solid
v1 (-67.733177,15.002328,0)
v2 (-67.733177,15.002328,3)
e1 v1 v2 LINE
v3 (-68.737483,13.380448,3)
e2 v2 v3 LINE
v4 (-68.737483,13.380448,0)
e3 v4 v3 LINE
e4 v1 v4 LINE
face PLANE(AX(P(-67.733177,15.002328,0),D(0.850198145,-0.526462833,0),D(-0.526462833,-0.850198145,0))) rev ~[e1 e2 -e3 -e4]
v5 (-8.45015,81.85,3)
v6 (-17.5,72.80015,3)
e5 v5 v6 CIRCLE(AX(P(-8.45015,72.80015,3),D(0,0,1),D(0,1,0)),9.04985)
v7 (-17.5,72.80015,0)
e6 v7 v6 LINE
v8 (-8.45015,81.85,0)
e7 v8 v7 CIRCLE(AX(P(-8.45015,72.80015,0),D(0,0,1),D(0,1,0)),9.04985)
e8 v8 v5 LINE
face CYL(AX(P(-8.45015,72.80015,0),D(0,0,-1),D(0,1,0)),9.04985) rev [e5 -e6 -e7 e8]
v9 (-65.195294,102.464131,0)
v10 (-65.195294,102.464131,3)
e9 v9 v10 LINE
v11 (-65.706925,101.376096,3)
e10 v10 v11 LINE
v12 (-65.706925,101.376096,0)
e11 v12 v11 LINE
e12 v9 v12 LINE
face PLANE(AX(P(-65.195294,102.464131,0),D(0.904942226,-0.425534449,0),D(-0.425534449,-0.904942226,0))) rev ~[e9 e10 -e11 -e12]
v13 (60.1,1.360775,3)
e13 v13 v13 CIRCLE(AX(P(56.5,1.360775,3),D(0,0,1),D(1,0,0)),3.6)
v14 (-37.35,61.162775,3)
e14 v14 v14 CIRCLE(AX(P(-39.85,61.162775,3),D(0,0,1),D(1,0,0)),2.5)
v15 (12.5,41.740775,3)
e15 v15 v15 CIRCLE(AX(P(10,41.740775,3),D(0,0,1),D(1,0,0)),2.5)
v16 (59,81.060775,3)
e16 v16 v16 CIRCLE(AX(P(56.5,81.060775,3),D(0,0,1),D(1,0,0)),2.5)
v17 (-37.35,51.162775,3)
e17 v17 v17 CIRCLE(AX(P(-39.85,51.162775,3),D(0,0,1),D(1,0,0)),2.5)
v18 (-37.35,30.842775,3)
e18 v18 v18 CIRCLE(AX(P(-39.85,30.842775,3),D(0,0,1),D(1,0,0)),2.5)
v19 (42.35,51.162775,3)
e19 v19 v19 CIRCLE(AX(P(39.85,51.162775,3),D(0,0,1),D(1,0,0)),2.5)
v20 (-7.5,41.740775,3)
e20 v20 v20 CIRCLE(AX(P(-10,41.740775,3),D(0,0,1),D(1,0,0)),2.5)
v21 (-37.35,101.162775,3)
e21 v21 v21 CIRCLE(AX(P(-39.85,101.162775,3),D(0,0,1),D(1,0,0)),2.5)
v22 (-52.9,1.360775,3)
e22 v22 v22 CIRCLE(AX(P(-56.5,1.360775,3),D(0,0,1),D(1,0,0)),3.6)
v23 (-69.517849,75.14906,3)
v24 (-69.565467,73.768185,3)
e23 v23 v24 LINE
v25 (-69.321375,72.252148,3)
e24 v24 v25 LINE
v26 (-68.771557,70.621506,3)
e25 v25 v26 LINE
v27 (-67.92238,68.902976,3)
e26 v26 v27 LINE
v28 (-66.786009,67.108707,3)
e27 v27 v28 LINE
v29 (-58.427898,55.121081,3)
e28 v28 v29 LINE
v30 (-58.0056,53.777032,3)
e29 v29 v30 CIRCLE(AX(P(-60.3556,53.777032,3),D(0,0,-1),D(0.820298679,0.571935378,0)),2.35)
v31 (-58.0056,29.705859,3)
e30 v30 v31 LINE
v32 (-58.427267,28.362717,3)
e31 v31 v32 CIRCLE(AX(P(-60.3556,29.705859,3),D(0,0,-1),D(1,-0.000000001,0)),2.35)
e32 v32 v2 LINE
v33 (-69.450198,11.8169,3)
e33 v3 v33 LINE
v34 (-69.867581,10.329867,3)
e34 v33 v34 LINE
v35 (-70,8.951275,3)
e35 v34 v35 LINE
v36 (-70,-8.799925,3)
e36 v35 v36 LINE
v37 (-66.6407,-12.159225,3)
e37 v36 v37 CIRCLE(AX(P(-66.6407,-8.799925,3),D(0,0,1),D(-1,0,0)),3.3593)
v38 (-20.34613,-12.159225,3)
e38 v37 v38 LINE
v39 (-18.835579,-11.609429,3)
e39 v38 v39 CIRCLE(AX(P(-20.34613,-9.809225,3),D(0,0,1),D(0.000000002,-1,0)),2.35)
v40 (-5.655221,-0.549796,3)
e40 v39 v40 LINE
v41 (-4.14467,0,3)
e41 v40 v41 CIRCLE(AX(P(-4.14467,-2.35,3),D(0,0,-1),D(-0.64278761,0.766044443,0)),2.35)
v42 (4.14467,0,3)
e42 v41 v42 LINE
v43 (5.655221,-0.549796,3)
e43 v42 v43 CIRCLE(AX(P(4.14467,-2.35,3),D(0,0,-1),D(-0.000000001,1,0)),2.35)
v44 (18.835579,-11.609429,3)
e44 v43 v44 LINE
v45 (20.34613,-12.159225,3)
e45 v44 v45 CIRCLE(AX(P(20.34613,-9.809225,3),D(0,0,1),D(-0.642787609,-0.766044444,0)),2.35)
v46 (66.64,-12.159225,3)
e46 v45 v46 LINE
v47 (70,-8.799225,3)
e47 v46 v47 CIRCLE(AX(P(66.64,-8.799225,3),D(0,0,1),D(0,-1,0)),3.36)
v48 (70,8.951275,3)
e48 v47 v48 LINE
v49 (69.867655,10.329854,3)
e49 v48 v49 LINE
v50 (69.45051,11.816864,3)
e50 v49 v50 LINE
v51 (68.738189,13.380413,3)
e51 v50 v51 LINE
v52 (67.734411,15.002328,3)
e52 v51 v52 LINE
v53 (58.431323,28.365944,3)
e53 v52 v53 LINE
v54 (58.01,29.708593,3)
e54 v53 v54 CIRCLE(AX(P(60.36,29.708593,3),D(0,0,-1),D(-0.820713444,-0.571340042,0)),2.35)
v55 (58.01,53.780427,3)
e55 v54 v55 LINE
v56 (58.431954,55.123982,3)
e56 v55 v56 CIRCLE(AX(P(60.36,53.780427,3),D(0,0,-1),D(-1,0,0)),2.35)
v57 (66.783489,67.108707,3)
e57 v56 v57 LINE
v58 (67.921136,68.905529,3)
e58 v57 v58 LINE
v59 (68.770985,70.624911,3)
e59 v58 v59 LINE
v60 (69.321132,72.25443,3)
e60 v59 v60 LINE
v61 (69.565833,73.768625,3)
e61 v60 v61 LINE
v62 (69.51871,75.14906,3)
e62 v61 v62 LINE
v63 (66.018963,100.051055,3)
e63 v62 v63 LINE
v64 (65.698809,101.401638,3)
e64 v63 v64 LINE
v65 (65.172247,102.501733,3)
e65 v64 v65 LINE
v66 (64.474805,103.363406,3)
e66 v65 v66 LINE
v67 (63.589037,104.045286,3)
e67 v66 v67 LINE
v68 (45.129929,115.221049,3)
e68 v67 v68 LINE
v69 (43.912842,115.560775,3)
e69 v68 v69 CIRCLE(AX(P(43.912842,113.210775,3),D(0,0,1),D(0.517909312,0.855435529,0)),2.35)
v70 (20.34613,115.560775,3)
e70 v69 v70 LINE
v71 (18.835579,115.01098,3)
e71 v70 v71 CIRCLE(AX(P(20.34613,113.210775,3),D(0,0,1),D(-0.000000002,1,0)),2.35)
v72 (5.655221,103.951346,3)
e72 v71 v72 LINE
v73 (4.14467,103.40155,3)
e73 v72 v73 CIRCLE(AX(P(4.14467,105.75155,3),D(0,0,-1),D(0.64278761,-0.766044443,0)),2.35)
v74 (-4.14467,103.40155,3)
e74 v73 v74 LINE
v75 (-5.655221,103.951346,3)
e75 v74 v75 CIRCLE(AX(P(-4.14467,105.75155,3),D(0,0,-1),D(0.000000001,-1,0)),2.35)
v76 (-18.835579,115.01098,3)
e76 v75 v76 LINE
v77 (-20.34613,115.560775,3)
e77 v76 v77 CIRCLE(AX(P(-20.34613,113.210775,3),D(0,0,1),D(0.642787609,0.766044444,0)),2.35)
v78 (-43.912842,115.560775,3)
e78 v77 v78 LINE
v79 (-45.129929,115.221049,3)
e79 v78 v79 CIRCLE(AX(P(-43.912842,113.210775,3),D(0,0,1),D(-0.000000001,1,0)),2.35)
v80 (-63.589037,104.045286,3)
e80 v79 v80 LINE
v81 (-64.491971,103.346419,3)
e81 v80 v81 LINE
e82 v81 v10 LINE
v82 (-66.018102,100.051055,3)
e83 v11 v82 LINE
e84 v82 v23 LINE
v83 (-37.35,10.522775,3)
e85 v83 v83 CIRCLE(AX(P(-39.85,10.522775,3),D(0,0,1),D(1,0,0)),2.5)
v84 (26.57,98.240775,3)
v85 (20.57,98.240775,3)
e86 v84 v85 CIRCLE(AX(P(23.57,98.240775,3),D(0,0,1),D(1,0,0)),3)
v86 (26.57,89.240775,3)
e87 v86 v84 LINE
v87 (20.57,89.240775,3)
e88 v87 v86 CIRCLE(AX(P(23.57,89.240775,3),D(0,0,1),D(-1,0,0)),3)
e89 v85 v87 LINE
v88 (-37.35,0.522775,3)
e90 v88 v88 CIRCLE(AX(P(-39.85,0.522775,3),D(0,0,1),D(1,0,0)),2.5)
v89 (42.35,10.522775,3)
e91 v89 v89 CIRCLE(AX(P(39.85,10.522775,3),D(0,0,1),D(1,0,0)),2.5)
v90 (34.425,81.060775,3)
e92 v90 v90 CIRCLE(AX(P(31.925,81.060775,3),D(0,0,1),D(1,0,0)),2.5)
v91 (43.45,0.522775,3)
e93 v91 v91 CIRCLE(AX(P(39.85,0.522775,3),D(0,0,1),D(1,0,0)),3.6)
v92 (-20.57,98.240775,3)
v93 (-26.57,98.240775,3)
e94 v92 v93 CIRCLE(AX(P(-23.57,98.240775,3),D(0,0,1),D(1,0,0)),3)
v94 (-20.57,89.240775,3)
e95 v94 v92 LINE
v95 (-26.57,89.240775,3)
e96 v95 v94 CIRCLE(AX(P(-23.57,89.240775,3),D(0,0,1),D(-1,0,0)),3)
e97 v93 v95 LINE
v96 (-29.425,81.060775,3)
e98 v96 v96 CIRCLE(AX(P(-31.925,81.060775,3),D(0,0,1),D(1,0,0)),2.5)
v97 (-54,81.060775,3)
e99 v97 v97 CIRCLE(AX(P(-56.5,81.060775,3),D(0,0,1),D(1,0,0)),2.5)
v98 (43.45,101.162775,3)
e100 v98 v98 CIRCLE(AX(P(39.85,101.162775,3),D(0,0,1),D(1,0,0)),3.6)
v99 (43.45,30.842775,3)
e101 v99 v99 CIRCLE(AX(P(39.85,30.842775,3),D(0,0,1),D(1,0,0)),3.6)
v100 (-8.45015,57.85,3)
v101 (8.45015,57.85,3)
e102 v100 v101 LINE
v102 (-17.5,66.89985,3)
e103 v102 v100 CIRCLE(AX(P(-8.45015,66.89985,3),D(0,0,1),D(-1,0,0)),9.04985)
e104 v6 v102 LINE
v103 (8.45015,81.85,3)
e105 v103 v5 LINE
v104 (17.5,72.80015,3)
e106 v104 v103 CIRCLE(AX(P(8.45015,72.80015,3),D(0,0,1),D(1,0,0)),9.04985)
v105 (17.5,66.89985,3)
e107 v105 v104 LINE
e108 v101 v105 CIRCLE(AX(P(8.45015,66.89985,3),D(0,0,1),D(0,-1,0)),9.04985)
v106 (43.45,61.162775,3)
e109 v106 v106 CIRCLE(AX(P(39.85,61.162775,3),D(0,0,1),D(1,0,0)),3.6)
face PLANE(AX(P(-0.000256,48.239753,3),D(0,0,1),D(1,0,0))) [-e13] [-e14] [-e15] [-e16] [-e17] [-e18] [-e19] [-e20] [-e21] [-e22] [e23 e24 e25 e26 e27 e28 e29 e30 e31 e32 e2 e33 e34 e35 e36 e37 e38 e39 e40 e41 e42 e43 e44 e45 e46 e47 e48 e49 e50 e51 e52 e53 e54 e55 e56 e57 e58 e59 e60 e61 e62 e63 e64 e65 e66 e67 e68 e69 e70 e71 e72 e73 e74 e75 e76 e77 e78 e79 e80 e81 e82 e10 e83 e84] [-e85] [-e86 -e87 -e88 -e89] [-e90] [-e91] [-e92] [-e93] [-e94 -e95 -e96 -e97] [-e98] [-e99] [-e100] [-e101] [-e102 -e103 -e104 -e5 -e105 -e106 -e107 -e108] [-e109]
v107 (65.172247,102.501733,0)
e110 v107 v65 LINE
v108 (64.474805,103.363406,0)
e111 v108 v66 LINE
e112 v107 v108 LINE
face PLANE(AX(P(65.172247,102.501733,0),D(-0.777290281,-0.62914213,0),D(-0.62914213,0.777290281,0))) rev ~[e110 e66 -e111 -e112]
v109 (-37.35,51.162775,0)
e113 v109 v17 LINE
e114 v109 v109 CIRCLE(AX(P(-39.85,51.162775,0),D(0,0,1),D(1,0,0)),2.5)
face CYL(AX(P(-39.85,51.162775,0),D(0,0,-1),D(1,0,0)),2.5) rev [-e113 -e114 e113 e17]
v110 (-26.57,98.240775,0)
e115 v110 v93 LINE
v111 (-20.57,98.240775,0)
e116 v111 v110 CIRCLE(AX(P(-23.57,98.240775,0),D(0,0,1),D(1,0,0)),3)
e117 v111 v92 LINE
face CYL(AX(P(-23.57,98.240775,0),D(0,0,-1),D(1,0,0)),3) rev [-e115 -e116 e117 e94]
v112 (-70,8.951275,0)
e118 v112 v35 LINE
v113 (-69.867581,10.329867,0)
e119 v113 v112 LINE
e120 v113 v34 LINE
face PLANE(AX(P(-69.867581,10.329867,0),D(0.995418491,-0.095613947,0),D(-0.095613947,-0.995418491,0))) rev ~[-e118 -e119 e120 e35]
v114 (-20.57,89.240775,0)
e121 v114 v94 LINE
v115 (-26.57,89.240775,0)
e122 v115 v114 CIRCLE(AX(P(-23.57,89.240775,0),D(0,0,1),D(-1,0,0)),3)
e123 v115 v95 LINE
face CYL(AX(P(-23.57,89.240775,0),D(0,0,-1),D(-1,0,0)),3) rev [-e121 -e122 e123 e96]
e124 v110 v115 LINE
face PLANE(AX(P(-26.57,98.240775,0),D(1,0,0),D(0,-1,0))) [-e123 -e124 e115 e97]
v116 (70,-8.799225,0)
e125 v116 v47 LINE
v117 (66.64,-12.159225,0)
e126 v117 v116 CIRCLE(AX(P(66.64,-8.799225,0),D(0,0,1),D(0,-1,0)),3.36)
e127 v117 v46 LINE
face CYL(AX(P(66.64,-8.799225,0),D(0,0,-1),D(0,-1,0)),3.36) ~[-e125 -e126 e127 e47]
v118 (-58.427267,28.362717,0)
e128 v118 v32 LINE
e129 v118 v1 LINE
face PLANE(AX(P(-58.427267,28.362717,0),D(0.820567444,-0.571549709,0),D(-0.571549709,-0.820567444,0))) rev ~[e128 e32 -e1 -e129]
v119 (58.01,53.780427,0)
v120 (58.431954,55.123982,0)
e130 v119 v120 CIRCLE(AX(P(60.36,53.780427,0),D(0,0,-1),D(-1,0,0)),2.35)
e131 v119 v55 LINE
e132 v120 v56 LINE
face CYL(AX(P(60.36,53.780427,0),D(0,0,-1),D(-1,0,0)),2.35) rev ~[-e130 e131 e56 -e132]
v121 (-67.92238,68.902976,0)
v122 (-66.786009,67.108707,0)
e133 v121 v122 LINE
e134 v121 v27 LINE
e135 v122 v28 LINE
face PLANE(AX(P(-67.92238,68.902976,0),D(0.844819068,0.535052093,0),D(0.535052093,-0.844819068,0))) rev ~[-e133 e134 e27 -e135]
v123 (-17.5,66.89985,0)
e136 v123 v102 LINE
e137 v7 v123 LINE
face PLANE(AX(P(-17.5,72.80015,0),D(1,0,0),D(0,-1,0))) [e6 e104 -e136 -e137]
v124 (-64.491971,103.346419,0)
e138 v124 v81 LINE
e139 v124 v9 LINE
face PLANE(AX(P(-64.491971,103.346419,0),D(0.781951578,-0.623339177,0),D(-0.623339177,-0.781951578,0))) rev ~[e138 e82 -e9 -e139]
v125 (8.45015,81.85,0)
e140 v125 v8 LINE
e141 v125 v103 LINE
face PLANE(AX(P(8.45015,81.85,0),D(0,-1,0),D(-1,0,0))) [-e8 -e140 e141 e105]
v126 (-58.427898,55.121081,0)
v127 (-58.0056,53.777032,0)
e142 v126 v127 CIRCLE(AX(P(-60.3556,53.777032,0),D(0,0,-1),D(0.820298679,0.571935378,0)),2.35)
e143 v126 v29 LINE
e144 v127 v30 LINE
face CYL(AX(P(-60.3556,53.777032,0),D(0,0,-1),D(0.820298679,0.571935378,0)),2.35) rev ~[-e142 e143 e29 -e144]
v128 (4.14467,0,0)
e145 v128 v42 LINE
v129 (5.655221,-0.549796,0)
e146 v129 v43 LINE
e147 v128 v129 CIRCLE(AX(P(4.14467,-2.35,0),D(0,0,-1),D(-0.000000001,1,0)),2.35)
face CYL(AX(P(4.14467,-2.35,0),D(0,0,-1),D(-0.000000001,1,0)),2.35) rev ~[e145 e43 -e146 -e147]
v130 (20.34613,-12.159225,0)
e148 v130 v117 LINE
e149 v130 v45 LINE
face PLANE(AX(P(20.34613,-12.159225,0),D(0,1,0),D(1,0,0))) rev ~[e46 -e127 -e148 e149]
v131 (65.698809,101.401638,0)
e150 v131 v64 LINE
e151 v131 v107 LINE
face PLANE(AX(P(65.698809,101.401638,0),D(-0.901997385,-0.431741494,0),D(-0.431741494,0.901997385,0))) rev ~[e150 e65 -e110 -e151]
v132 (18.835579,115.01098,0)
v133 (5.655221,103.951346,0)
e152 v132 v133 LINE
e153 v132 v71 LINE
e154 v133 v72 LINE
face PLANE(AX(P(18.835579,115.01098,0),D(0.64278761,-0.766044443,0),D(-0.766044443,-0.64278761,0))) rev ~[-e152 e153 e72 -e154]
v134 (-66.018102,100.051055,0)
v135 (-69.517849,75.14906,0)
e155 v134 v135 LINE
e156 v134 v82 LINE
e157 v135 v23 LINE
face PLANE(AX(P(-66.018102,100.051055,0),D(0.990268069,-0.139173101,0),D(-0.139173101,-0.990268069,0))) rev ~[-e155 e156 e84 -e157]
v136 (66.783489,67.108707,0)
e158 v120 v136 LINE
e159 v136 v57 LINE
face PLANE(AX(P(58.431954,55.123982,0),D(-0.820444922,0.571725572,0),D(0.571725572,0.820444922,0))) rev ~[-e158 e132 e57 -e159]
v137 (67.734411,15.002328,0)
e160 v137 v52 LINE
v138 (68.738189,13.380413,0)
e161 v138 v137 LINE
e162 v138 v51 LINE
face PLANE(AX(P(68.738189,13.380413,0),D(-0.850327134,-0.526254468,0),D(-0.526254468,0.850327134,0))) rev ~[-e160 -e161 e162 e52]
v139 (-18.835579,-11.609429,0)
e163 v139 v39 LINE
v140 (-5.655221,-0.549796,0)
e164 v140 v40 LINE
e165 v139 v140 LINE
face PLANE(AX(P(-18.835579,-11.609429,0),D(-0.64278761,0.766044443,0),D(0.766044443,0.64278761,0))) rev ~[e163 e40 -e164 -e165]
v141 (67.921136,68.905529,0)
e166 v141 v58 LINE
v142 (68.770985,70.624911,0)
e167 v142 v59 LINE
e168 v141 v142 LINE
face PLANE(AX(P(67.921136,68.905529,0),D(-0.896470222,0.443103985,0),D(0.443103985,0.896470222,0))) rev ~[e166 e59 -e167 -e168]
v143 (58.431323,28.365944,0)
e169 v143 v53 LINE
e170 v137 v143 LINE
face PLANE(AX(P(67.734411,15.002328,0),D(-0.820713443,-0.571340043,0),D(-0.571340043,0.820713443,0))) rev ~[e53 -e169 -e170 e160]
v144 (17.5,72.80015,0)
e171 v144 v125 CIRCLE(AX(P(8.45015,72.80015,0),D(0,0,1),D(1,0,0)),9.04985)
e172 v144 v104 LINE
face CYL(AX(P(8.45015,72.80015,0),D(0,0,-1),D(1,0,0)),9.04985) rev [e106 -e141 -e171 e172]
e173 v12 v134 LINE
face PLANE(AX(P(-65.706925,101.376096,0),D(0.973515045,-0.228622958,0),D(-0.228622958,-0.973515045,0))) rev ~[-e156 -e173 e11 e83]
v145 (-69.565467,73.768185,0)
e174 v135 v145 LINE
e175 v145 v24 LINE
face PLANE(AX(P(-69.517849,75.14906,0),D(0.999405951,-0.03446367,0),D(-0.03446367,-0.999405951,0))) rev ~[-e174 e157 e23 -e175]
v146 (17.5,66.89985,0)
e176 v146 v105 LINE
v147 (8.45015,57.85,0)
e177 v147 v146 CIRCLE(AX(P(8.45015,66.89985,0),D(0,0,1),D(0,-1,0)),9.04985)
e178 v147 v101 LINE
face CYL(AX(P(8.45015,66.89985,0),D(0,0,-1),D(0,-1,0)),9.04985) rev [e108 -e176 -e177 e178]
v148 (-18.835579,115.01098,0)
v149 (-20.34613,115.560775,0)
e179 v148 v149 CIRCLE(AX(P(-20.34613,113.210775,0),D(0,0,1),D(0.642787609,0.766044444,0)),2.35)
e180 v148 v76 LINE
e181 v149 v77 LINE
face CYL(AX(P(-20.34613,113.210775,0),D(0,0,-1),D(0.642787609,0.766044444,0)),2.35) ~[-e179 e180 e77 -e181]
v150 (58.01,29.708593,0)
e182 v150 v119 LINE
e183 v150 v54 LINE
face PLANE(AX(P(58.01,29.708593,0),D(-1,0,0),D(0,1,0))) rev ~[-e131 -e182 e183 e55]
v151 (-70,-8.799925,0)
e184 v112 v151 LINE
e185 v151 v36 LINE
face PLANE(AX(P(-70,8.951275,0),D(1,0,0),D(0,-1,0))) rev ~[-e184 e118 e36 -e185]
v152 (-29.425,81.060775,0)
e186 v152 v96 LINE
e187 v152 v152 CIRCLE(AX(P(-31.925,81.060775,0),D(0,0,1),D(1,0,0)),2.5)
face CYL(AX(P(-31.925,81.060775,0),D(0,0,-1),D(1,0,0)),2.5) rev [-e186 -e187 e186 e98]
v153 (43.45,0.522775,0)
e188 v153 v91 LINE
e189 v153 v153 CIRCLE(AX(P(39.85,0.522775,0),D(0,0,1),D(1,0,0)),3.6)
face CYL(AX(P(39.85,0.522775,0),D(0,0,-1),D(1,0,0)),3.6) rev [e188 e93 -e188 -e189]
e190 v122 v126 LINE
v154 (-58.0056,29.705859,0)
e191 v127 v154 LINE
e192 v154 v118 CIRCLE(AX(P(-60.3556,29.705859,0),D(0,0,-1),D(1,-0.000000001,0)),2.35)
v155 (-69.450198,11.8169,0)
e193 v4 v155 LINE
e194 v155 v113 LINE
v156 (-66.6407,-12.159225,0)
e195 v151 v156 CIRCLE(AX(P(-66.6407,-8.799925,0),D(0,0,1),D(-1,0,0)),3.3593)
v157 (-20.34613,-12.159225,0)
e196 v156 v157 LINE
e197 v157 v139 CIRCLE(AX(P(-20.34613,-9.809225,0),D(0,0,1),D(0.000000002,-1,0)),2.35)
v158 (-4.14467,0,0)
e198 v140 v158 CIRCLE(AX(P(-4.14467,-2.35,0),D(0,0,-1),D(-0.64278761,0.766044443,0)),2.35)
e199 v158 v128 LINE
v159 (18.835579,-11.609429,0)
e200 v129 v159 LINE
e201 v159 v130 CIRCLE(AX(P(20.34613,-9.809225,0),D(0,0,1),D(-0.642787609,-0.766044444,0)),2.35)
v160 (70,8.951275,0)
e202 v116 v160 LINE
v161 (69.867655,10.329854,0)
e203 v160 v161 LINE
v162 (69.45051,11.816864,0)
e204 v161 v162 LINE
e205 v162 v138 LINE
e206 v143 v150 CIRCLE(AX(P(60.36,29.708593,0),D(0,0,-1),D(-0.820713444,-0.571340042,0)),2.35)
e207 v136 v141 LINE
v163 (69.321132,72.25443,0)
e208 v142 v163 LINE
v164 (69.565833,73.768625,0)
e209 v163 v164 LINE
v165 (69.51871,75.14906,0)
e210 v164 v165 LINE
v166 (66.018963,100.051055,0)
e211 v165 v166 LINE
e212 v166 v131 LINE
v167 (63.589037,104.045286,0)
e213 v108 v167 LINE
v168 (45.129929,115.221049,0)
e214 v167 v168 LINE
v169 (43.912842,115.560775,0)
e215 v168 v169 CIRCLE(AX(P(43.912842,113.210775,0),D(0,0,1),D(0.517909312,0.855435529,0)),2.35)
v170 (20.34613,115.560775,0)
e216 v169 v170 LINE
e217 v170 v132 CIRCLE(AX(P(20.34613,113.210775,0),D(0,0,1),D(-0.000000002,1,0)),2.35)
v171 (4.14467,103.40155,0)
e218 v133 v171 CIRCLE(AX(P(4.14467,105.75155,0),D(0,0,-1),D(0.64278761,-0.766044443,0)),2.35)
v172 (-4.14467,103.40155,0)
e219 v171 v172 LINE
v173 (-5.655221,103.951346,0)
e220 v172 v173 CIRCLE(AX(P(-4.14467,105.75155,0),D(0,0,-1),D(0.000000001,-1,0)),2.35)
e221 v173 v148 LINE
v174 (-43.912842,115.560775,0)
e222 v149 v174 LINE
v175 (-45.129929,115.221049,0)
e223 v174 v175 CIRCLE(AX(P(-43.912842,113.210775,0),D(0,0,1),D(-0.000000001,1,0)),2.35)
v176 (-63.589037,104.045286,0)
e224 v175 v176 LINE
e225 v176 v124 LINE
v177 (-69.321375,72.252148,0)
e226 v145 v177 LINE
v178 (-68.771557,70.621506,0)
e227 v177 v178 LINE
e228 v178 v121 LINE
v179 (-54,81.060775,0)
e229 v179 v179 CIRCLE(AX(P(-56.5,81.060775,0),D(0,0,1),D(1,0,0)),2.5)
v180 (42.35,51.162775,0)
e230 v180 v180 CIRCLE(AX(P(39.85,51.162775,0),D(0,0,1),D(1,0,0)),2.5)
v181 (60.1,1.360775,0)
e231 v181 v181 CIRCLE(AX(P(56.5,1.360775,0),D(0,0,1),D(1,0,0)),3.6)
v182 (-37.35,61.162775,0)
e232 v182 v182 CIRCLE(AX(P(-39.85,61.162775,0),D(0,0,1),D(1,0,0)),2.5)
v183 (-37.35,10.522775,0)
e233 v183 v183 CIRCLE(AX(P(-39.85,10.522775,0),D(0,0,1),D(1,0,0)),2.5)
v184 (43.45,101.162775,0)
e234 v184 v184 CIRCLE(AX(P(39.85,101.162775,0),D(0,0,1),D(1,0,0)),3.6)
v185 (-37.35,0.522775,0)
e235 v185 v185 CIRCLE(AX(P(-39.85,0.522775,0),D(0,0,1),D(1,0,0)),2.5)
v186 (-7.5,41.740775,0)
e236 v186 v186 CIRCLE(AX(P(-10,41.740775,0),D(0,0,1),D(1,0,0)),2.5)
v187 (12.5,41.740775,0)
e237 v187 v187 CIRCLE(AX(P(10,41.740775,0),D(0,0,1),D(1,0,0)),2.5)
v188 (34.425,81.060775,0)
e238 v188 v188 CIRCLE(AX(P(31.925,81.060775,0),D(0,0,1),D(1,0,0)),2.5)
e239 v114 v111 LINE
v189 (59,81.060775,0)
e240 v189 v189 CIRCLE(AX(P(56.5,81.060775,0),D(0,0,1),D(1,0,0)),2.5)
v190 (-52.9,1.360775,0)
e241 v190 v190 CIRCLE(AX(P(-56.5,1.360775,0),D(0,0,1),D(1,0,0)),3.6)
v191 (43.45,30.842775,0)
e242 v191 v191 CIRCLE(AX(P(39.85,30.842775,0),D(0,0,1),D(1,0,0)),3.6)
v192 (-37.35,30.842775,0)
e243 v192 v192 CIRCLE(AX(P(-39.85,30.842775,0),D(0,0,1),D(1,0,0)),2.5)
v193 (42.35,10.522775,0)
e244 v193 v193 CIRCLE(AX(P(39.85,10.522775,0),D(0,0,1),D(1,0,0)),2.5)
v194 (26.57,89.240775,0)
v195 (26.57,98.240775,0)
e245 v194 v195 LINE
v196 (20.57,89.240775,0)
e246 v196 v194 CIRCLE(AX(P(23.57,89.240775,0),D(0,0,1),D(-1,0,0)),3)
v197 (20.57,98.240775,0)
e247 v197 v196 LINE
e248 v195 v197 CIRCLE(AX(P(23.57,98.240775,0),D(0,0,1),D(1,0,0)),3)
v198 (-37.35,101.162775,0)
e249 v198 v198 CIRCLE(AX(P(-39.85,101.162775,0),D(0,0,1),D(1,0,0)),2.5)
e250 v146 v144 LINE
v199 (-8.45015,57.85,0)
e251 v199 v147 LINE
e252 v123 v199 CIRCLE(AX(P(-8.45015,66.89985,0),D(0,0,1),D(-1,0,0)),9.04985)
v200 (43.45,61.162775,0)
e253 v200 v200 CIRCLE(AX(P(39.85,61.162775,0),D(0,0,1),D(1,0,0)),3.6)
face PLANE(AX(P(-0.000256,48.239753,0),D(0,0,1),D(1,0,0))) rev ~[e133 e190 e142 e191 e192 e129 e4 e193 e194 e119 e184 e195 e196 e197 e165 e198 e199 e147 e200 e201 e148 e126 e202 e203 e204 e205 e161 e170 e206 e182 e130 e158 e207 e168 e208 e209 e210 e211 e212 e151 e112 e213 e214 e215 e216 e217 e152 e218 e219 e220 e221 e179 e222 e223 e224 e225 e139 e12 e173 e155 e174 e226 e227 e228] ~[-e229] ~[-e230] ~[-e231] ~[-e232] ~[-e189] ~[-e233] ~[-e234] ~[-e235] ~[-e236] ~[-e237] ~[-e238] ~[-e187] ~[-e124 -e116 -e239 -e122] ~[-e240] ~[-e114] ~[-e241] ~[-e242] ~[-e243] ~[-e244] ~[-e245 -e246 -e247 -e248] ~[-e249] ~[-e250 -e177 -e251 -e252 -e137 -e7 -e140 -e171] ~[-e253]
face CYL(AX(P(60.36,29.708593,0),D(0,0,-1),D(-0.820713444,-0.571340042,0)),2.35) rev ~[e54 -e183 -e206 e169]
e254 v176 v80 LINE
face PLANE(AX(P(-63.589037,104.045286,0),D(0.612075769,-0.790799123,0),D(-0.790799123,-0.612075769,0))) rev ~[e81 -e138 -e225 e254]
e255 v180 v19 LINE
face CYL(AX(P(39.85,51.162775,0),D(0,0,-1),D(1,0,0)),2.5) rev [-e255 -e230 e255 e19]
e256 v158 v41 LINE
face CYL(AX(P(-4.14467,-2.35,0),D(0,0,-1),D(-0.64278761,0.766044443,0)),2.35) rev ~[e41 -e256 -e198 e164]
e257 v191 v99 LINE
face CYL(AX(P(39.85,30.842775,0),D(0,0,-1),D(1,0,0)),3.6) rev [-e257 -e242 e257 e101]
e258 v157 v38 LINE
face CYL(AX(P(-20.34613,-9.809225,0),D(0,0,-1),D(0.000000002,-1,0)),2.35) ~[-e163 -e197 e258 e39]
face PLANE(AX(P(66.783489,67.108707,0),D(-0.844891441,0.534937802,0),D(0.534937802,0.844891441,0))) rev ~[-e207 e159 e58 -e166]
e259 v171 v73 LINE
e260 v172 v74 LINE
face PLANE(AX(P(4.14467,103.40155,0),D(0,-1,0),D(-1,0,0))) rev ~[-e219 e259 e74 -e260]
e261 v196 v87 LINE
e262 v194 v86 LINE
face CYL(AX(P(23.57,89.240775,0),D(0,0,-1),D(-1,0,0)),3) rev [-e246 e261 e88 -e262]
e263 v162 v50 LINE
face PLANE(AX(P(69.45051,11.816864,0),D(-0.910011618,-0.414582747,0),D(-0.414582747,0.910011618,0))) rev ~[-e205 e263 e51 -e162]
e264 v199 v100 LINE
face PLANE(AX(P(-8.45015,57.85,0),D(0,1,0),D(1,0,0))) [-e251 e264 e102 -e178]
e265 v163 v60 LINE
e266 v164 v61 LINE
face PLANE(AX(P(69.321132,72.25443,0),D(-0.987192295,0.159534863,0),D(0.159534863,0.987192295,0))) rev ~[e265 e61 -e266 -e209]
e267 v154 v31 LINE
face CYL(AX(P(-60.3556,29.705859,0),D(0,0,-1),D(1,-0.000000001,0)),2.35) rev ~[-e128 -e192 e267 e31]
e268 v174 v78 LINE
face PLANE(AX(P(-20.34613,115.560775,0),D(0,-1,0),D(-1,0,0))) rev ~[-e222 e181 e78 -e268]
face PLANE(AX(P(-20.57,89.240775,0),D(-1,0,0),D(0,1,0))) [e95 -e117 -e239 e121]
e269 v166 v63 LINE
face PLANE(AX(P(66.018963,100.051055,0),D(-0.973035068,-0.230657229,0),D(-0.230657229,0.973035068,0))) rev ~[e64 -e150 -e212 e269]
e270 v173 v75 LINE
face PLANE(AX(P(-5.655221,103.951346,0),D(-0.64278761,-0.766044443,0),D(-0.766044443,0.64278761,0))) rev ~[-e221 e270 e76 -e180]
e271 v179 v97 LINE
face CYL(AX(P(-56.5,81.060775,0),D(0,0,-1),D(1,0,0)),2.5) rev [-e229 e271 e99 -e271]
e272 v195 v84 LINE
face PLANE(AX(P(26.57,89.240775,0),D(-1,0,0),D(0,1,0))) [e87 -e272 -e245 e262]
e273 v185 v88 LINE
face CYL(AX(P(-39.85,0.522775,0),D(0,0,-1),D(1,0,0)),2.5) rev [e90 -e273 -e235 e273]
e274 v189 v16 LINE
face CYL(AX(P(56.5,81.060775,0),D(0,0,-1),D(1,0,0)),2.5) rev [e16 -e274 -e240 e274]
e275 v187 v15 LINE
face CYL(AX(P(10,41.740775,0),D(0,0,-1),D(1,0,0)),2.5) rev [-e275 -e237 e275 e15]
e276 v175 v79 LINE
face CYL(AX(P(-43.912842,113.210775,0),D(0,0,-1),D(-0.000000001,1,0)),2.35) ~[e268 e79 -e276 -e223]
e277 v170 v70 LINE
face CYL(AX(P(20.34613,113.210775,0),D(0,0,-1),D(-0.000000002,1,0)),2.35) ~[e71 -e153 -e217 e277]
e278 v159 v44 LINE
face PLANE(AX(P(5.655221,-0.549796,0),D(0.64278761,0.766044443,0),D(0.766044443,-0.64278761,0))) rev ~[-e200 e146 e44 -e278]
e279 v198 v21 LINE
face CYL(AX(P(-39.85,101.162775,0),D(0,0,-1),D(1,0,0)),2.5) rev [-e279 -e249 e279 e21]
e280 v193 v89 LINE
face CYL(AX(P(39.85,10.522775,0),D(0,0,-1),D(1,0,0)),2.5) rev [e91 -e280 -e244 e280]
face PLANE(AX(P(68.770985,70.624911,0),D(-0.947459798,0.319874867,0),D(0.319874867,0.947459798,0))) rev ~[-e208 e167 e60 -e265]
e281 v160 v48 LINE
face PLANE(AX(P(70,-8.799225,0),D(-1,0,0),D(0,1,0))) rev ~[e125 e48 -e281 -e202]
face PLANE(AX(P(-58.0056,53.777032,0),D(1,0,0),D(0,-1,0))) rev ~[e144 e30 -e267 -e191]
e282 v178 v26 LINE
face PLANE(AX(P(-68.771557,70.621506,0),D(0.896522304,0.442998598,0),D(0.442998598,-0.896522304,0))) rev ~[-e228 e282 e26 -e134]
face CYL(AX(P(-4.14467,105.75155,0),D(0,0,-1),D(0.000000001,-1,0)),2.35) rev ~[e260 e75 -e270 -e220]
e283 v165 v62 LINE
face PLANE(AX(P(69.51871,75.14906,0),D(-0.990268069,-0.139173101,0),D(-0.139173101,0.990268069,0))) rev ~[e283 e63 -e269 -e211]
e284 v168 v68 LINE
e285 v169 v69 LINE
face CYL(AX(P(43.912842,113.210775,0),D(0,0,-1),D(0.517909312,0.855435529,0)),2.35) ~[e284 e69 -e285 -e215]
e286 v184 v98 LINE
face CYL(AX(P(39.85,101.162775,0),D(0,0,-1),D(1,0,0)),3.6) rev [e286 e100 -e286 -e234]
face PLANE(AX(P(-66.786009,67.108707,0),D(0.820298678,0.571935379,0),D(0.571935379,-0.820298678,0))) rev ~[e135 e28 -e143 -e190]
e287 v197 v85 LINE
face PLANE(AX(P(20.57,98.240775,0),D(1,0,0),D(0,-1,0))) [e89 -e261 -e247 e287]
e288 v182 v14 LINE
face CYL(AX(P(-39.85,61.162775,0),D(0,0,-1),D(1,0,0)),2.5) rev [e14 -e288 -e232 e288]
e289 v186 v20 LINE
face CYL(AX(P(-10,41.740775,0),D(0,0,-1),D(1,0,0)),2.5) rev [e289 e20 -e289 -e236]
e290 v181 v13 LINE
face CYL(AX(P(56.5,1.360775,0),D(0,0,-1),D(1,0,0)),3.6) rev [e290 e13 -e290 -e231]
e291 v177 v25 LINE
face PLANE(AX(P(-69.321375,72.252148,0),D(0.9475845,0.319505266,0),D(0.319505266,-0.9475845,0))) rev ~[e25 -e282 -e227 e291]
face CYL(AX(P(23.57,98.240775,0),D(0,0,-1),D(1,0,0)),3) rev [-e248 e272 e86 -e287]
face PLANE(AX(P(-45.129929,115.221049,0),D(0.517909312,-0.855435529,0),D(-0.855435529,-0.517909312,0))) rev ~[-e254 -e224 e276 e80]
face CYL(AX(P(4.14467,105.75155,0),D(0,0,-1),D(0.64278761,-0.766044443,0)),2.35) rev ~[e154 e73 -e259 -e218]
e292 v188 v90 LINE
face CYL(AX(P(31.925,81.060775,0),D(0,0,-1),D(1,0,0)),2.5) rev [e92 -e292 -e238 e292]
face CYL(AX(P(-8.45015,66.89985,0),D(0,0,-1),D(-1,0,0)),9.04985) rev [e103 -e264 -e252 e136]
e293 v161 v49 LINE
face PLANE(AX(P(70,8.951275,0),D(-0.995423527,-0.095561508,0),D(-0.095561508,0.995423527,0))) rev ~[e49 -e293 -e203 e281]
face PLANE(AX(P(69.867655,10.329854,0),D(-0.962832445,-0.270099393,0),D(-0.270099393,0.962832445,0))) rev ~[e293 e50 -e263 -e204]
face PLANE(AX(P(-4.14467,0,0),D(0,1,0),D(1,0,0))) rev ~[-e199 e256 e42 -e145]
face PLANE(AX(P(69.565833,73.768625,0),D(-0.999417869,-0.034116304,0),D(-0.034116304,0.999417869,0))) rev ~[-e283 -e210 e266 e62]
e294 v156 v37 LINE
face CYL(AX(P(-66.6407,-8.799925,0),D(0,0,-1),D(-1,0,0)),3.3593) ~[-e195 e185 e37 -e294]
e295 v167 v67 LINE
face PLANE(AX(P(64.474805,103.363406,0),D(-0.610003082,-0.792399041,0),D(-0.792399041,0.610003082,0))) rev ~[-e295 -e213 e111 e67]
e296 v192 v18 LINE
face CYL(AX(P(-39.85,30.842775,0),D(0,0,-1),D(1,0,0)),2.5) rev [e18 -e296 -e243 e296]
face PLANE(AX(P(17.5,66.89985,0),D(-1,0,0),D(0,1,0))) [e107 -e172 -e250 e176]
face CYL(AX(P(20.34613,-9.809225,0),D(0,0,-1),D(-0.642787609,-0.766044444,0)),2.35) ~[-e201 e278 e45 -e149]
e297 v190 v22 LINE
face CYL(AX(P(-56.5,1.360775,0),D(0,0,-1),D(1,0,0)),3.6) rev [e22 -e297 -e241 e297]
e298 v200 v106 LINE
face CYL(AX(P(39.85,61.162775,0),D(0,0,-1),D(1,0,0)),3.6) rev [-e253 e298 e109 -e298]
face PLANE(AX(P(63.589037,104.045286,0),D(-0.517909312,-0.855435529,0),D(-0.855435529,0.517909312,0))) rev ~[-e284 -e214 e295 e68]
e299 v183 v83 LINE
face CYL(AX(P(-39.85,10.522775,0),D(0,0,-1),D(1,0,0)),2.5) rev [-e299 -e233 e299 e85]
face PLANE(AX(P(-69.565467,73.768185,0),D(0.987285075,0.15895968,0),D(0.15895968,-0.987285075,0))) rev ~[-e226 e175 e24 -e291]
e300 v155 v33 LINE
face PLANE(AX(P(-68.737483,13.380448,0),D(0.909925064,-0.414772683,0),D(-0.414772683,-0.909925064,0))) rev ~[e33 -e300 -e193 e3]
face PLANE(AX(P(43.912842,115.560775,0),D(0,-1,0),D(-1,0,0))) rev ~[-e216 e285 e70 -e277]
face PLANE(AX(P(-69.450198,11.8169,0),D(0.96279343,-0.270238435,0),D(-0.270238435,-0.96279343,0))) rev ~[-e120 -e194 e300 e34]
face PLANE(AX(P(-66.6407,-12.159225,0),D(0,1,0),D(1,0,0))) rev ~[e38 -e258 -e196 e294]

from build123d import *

# Parameters (mm, degrees)
MODEL_R             = 3.6
MODEL_R_2           = 2.5
BOSS_EXTRUDE1_DEPTH = 3


with BuildPart() as part:
    # Model → Boss-Extrude1 (new body)
    with BuildSketch(Plane.XY):
        with BuildLine():
            Line((-63.589037408, 104.045286478), (-64.491971364, 103.346418738))
            Line((-64.491971364, 103.346418738), (-65.195294282, 102.464131076))
            Line((-65.195294282, 102.464131076), (-65.706925279, 101.376095796))
            Line((-65.706925279, 101.376095796), (-66.01810151, 100.051055017))
            Line((-66.01810151, 100.051055017), (-69.517848709, 75.149059762))
            Line((-69.517848709, 75.149059762), (-69.565467008, 73.768185024))
            Line((-69.565467008, 73.768185024), (-69.321374593, 72.25214776))
            Line((-69.321374593, 72.25214776), (-68.771556944, 70.621505836))
            Line((-68.771556944, 70.621505836), (-67.922379623, 68.902975774))
            Line((-67.922379623, 68.902975774), (-66.786009136, 67.108706641))
            Line((-66.786009136, 67.108706641), (-58.427898105, 55.121080623))
            ThreePointArc((-58.427898105, 55.121080623), (-58.113658938, 54.481447327), (-58.0056, 53.777032482))
            Line((-58.0056, 53.777032482), (-58.0056, 29.705859287))
            ThreePointArc((-58.0056, 29.705859287), (-58.113493434, 29.001971409), (-58.427266507, 28.362717471))
            Line((-58.427266507, 28.362717471), (-67.733176699, 15.002327604))
            Line((-67.733176699, 15.002327604), (-68.737483208, 13.38044762))
            Line((-68.737483208, 13.38044762), (-69.450197862, 11.816899792))
            Line((-69.450197862, 11.816899792), (-69.867580727, 10.329866757))
            Line((-69.867580727, 10.329866757), (-70, 8.951275064))
            Line((-70, 8.951275064), (-70, -8.799924936))
            ThreePointArc((-70, -8.799924936), (-69.01608381, -11.175308746), (-66.6407, -12.159224936))
            Line((-66.6407, -12.159224936), (-20.346130051, -12.159224936))
            ThreePointArc((-20.346130051, -12.159224936), (-19.542382714, -12.017502594), (-18.835579168, -11.609429377))
            Line((-18.835579168, -11.609429377), (-5.655220832, -0.549795559))
            ThreePointArc((-5.655220832, -0.549795559), (-4.948417286, -0.141722341), (-4.144669949, 0))
            Line((-4.144669949, 0), (4.144669949, 0))
            ThreePointArc((4.144669949, 0), (4.948417286, -0.141722341), (5.655220832, -0.549795559))
            Line((5.655220832, -0.549795559), (18.835579168, -11.609429377))
            ThreePointArc((18.835579168, -11.609429377), (19.542382714, -12.017502594), (20.346130051, -12.159224936))
            Line((20.346130051, -12.159224936), (66.64, -12.159224936))
            ThreePointArc((66.64, -12.159224936), (69.015878785, -11.17510372), (70, -8.799224936))
            Line((70, -8.799224936), (70, 8.951275064))
            Line((70, 8.951275064), (69.867655237, 10.329854089))
            Line((69.867655237, 10.329854089), (69.450510447, 11.816864236))
            Line((69.450510447, 11.816864236), (68.738189425, 13.380413155))
            Line((68.738189425, 13.380413155), (67.734411359, 15.002327604))
            Line((67.734411359, 15.002327604), (58.431323409, 28.365944307))
            ThreePointArc((58.431323409, 28.365944307), (58.117803534, 29.004991954), (58.01, 29.708593408))
            Line((58.01, 29.708593408), (58.01, 53.780426534))
            ThreePointArc((58.01, 53.780426534), (58.11796888, 54.484554688), (58.431954432, 55.123981627))
            Line((58.431954432, 55.123981627), (66.78348855, 67.108706641))
            Line((66.78348855, 67.108706641), (67.921135722, 68.90552929))
            Line((67.921135722, 68.90552929), (68.770985107, 70.624910502))
            Line((68.770985107, 70.624910502), (69.321132211, 72.254429785))
            Line((69.321132211, 72.254429785), (69.565833124, 73.768624559))
            Line((69.565833124, 73.768624559), (69.518710346, 75.149059762))
            Line((69.518710346, 75.149059762), (66.018963147, 100.051055017))
            Line((66.018963147, 100.051055017), (65.69880853, 101.401637743))
            Line((65.69880853, 101.401637743), (65.172247364, 102.501733058))
            Line((65.172247364, 102.501733058), (64.474805148, 103.363406486))
            Line((64.474805148, 103.363406486), (63.589037408, 104.045286478))
            Line((63.589037408, 104.045286478), (45.129929366, 115.221048558))
            ThreePointArc((45.129929366, 115.221048558), (44.544648343, 115.474250568), (43.912842483, 115.560775065))
            Line((43.912842483, 115.560775065), (20.346130051, 115.560775065))
            ThreePointArc((20.346130051, 115.560775065), (19.542382714, 115.419052723), (18.835579168, 115.010979506))
            Line((18.835579168, 115.010979506), (5.655220832, 103.951345688))
            ThreePointArc((5.655220832, 103.951345688), (4.948417286, 103.54327247), (4.144669949, 103.401550129))
            Line((4.144669949, 103.401550129), (-4.144669949, 103.401550129))
            ThreePointArc((-4.144669949, 103.401550129), (-4.948417286, 103.54327247), (-5.655220832, 103.951345688))
            Line((-5.655220832, 103.951345688), (-18.835579168, 115.010979506))
            ThreePointArc((-18.835579168, 115.010979506), (-19.542382714, 115.419052723), (-20.346130051, 115.560775065))
            Line((-20.346130051, 115.560775065), (-43.912842483, 115.560775065))
            ThreePointArc((-43.912842483, 115.560775065), (-44.544648343, 115.474250568), (-45.129929366, 115.221048558))
            Line((-45.129929366, 115.221048558), (-63.589037408, 104.045286478))
        make_face()
        with Locations((-56.5, 1.360775064)):
            Circle(MODEL_R, mode=Mode.SUBTRACT)
        with Locations((-10, 41.740775065)):
            Circle(MODEL_R_2, mode=Mode.SUBTRACT)
        with Locations((-39.85, 0.522775064)):
            Circle(MODEL_R_2, mode=Mode.SUBTRACT)
        with Locations((-39.85, 10.522775064)):
            Circle(MODEL_R_2, mode=Mode.SUBTRACT)
        with Locations((-39.85, 30.842775065)):
            Circle(MODEL_R_2, mode=Mode.SUBTRACT)
        with Locations((-39.85, 51.162775065)):
            Circle(MODEL_R_2, mode=Mode.SUBTRACT)
        with Locations((-31.925, 81.060775064)):
            Circle(MODEL_R_2, mode=Mode.SUBTRACT)
        with Locations((-39.85, 61.162775065)):
            Circle(MODEL_R_2, mode=Mode.SUBTRACT)
        with Locations((-39.85, 101.162775064)):
            Circle(MODEL_R_2, mode=Mode.SUBTRACT)
        with Locations((-56.5, 81.060775064)):
            Circle(MODEL_R_2, mode=Mode.SUBTRACT)
        with Locations((39.85, 0.522775064)):
            Circle(MODEL_R, mode=Mode.SUBTRACT)
        with Locations((39.85, 30.842775065)):
            Circle(MODEL_R, mode=Mode.SUBTRACT)
        with Locations((56.5, 1.360775064)):
            Circle(MODEL_R, mode=Mode.SUBTRACT)
        with Locations((10, 41.740775065)):
            Circle(MODEL_R_2, mode=Mode.SUBTRACT)
        with Locations((39.85, 10.522775064)):
            Circle(MODEL_R_2, mode=Mode.SUBTRACT)
        with Locations((39.85, 51.162775065)):
            Circle(MODEL_R_2, mode=Mode.SUBTRACT)
        with Locations((39.85, 61.162775065)):
            Circle(MODEL_R, mode=Mode.SUBTRACT)
        with Locations((39.85, 101.162775064)):
            Circle(MODEL_R, mode=Mode.SUBTRACT)
        with Locations((31.925, 81.060775064)):
            Circle(MODEL_R_2, mode=Mode.SUBTRACT)
        with Locations((56.5, 81.060775064)):
            Circle(MODEL_R_2, mode=Mode.SUBTRACT)
        with BuildLine():
            Line((-26.57, 98.240775065), (-26.57, 89.240775065))
            ThreePointArc((-26.57, 89.240775065), (-23.57, 86.240775065), (-20.57, 89.240775065))
            Line((-20.57, 89.240775065), (-20.57, 98.240775065))
            ThreePointArc((-20.57, 98.240775065), (-23.57, 101.240775065), (-26.57, 98.240775065))
        make_face(mode=Mode.SUBTRACT)
        with BuildLine():
            Line((-17.5, 72.80015), (-17.5, 66.89985))
            ThreePointArc((-17.5, 66.89985), (-14.849360304, 60.500639696), (-8.45015, 57.85))
            Line((-8.45015, 57.85), (8.45015, 57.85))
            ThreePointArc((8.45015, 57.85), (14.849360304, 60.500639696), (17.5, 66.89985))
            Line((17.5, 66.89985), (17.5, 72.80015))
            ThreePointArc((17.5, 72.80015), (14.849360304, 79.199360304), (8.45015, 81.85))
            Line((8.45015, 81.85), (-8.45015, 81.85))
            ThreePointArc((-8.45015, 81.85), (-14.849360304, 79.199360304), (-17.5, 72.80015))
        make_face(mode=Mode.SUBTRACT)
        with BuildLine():
            Line((20.57, 98.240775065), (20.57, 89.240775065))
            ThreePointArc((20.57, 89.240775065), (23.57, 86.240775065), (26.57, 89.240775065))
            Line((26.57, 89.240775065), (26.57, 98.240775065))
            ThreePointArc((26.57, 98.240775065), (23.57, 101.240775065), (20.57, 98.240775065))
        make_face(mode=Mode.SUBTRACT)
    extrude(amount=BOSS_EXTRUDE1_DEPTH)


solid = part.part
